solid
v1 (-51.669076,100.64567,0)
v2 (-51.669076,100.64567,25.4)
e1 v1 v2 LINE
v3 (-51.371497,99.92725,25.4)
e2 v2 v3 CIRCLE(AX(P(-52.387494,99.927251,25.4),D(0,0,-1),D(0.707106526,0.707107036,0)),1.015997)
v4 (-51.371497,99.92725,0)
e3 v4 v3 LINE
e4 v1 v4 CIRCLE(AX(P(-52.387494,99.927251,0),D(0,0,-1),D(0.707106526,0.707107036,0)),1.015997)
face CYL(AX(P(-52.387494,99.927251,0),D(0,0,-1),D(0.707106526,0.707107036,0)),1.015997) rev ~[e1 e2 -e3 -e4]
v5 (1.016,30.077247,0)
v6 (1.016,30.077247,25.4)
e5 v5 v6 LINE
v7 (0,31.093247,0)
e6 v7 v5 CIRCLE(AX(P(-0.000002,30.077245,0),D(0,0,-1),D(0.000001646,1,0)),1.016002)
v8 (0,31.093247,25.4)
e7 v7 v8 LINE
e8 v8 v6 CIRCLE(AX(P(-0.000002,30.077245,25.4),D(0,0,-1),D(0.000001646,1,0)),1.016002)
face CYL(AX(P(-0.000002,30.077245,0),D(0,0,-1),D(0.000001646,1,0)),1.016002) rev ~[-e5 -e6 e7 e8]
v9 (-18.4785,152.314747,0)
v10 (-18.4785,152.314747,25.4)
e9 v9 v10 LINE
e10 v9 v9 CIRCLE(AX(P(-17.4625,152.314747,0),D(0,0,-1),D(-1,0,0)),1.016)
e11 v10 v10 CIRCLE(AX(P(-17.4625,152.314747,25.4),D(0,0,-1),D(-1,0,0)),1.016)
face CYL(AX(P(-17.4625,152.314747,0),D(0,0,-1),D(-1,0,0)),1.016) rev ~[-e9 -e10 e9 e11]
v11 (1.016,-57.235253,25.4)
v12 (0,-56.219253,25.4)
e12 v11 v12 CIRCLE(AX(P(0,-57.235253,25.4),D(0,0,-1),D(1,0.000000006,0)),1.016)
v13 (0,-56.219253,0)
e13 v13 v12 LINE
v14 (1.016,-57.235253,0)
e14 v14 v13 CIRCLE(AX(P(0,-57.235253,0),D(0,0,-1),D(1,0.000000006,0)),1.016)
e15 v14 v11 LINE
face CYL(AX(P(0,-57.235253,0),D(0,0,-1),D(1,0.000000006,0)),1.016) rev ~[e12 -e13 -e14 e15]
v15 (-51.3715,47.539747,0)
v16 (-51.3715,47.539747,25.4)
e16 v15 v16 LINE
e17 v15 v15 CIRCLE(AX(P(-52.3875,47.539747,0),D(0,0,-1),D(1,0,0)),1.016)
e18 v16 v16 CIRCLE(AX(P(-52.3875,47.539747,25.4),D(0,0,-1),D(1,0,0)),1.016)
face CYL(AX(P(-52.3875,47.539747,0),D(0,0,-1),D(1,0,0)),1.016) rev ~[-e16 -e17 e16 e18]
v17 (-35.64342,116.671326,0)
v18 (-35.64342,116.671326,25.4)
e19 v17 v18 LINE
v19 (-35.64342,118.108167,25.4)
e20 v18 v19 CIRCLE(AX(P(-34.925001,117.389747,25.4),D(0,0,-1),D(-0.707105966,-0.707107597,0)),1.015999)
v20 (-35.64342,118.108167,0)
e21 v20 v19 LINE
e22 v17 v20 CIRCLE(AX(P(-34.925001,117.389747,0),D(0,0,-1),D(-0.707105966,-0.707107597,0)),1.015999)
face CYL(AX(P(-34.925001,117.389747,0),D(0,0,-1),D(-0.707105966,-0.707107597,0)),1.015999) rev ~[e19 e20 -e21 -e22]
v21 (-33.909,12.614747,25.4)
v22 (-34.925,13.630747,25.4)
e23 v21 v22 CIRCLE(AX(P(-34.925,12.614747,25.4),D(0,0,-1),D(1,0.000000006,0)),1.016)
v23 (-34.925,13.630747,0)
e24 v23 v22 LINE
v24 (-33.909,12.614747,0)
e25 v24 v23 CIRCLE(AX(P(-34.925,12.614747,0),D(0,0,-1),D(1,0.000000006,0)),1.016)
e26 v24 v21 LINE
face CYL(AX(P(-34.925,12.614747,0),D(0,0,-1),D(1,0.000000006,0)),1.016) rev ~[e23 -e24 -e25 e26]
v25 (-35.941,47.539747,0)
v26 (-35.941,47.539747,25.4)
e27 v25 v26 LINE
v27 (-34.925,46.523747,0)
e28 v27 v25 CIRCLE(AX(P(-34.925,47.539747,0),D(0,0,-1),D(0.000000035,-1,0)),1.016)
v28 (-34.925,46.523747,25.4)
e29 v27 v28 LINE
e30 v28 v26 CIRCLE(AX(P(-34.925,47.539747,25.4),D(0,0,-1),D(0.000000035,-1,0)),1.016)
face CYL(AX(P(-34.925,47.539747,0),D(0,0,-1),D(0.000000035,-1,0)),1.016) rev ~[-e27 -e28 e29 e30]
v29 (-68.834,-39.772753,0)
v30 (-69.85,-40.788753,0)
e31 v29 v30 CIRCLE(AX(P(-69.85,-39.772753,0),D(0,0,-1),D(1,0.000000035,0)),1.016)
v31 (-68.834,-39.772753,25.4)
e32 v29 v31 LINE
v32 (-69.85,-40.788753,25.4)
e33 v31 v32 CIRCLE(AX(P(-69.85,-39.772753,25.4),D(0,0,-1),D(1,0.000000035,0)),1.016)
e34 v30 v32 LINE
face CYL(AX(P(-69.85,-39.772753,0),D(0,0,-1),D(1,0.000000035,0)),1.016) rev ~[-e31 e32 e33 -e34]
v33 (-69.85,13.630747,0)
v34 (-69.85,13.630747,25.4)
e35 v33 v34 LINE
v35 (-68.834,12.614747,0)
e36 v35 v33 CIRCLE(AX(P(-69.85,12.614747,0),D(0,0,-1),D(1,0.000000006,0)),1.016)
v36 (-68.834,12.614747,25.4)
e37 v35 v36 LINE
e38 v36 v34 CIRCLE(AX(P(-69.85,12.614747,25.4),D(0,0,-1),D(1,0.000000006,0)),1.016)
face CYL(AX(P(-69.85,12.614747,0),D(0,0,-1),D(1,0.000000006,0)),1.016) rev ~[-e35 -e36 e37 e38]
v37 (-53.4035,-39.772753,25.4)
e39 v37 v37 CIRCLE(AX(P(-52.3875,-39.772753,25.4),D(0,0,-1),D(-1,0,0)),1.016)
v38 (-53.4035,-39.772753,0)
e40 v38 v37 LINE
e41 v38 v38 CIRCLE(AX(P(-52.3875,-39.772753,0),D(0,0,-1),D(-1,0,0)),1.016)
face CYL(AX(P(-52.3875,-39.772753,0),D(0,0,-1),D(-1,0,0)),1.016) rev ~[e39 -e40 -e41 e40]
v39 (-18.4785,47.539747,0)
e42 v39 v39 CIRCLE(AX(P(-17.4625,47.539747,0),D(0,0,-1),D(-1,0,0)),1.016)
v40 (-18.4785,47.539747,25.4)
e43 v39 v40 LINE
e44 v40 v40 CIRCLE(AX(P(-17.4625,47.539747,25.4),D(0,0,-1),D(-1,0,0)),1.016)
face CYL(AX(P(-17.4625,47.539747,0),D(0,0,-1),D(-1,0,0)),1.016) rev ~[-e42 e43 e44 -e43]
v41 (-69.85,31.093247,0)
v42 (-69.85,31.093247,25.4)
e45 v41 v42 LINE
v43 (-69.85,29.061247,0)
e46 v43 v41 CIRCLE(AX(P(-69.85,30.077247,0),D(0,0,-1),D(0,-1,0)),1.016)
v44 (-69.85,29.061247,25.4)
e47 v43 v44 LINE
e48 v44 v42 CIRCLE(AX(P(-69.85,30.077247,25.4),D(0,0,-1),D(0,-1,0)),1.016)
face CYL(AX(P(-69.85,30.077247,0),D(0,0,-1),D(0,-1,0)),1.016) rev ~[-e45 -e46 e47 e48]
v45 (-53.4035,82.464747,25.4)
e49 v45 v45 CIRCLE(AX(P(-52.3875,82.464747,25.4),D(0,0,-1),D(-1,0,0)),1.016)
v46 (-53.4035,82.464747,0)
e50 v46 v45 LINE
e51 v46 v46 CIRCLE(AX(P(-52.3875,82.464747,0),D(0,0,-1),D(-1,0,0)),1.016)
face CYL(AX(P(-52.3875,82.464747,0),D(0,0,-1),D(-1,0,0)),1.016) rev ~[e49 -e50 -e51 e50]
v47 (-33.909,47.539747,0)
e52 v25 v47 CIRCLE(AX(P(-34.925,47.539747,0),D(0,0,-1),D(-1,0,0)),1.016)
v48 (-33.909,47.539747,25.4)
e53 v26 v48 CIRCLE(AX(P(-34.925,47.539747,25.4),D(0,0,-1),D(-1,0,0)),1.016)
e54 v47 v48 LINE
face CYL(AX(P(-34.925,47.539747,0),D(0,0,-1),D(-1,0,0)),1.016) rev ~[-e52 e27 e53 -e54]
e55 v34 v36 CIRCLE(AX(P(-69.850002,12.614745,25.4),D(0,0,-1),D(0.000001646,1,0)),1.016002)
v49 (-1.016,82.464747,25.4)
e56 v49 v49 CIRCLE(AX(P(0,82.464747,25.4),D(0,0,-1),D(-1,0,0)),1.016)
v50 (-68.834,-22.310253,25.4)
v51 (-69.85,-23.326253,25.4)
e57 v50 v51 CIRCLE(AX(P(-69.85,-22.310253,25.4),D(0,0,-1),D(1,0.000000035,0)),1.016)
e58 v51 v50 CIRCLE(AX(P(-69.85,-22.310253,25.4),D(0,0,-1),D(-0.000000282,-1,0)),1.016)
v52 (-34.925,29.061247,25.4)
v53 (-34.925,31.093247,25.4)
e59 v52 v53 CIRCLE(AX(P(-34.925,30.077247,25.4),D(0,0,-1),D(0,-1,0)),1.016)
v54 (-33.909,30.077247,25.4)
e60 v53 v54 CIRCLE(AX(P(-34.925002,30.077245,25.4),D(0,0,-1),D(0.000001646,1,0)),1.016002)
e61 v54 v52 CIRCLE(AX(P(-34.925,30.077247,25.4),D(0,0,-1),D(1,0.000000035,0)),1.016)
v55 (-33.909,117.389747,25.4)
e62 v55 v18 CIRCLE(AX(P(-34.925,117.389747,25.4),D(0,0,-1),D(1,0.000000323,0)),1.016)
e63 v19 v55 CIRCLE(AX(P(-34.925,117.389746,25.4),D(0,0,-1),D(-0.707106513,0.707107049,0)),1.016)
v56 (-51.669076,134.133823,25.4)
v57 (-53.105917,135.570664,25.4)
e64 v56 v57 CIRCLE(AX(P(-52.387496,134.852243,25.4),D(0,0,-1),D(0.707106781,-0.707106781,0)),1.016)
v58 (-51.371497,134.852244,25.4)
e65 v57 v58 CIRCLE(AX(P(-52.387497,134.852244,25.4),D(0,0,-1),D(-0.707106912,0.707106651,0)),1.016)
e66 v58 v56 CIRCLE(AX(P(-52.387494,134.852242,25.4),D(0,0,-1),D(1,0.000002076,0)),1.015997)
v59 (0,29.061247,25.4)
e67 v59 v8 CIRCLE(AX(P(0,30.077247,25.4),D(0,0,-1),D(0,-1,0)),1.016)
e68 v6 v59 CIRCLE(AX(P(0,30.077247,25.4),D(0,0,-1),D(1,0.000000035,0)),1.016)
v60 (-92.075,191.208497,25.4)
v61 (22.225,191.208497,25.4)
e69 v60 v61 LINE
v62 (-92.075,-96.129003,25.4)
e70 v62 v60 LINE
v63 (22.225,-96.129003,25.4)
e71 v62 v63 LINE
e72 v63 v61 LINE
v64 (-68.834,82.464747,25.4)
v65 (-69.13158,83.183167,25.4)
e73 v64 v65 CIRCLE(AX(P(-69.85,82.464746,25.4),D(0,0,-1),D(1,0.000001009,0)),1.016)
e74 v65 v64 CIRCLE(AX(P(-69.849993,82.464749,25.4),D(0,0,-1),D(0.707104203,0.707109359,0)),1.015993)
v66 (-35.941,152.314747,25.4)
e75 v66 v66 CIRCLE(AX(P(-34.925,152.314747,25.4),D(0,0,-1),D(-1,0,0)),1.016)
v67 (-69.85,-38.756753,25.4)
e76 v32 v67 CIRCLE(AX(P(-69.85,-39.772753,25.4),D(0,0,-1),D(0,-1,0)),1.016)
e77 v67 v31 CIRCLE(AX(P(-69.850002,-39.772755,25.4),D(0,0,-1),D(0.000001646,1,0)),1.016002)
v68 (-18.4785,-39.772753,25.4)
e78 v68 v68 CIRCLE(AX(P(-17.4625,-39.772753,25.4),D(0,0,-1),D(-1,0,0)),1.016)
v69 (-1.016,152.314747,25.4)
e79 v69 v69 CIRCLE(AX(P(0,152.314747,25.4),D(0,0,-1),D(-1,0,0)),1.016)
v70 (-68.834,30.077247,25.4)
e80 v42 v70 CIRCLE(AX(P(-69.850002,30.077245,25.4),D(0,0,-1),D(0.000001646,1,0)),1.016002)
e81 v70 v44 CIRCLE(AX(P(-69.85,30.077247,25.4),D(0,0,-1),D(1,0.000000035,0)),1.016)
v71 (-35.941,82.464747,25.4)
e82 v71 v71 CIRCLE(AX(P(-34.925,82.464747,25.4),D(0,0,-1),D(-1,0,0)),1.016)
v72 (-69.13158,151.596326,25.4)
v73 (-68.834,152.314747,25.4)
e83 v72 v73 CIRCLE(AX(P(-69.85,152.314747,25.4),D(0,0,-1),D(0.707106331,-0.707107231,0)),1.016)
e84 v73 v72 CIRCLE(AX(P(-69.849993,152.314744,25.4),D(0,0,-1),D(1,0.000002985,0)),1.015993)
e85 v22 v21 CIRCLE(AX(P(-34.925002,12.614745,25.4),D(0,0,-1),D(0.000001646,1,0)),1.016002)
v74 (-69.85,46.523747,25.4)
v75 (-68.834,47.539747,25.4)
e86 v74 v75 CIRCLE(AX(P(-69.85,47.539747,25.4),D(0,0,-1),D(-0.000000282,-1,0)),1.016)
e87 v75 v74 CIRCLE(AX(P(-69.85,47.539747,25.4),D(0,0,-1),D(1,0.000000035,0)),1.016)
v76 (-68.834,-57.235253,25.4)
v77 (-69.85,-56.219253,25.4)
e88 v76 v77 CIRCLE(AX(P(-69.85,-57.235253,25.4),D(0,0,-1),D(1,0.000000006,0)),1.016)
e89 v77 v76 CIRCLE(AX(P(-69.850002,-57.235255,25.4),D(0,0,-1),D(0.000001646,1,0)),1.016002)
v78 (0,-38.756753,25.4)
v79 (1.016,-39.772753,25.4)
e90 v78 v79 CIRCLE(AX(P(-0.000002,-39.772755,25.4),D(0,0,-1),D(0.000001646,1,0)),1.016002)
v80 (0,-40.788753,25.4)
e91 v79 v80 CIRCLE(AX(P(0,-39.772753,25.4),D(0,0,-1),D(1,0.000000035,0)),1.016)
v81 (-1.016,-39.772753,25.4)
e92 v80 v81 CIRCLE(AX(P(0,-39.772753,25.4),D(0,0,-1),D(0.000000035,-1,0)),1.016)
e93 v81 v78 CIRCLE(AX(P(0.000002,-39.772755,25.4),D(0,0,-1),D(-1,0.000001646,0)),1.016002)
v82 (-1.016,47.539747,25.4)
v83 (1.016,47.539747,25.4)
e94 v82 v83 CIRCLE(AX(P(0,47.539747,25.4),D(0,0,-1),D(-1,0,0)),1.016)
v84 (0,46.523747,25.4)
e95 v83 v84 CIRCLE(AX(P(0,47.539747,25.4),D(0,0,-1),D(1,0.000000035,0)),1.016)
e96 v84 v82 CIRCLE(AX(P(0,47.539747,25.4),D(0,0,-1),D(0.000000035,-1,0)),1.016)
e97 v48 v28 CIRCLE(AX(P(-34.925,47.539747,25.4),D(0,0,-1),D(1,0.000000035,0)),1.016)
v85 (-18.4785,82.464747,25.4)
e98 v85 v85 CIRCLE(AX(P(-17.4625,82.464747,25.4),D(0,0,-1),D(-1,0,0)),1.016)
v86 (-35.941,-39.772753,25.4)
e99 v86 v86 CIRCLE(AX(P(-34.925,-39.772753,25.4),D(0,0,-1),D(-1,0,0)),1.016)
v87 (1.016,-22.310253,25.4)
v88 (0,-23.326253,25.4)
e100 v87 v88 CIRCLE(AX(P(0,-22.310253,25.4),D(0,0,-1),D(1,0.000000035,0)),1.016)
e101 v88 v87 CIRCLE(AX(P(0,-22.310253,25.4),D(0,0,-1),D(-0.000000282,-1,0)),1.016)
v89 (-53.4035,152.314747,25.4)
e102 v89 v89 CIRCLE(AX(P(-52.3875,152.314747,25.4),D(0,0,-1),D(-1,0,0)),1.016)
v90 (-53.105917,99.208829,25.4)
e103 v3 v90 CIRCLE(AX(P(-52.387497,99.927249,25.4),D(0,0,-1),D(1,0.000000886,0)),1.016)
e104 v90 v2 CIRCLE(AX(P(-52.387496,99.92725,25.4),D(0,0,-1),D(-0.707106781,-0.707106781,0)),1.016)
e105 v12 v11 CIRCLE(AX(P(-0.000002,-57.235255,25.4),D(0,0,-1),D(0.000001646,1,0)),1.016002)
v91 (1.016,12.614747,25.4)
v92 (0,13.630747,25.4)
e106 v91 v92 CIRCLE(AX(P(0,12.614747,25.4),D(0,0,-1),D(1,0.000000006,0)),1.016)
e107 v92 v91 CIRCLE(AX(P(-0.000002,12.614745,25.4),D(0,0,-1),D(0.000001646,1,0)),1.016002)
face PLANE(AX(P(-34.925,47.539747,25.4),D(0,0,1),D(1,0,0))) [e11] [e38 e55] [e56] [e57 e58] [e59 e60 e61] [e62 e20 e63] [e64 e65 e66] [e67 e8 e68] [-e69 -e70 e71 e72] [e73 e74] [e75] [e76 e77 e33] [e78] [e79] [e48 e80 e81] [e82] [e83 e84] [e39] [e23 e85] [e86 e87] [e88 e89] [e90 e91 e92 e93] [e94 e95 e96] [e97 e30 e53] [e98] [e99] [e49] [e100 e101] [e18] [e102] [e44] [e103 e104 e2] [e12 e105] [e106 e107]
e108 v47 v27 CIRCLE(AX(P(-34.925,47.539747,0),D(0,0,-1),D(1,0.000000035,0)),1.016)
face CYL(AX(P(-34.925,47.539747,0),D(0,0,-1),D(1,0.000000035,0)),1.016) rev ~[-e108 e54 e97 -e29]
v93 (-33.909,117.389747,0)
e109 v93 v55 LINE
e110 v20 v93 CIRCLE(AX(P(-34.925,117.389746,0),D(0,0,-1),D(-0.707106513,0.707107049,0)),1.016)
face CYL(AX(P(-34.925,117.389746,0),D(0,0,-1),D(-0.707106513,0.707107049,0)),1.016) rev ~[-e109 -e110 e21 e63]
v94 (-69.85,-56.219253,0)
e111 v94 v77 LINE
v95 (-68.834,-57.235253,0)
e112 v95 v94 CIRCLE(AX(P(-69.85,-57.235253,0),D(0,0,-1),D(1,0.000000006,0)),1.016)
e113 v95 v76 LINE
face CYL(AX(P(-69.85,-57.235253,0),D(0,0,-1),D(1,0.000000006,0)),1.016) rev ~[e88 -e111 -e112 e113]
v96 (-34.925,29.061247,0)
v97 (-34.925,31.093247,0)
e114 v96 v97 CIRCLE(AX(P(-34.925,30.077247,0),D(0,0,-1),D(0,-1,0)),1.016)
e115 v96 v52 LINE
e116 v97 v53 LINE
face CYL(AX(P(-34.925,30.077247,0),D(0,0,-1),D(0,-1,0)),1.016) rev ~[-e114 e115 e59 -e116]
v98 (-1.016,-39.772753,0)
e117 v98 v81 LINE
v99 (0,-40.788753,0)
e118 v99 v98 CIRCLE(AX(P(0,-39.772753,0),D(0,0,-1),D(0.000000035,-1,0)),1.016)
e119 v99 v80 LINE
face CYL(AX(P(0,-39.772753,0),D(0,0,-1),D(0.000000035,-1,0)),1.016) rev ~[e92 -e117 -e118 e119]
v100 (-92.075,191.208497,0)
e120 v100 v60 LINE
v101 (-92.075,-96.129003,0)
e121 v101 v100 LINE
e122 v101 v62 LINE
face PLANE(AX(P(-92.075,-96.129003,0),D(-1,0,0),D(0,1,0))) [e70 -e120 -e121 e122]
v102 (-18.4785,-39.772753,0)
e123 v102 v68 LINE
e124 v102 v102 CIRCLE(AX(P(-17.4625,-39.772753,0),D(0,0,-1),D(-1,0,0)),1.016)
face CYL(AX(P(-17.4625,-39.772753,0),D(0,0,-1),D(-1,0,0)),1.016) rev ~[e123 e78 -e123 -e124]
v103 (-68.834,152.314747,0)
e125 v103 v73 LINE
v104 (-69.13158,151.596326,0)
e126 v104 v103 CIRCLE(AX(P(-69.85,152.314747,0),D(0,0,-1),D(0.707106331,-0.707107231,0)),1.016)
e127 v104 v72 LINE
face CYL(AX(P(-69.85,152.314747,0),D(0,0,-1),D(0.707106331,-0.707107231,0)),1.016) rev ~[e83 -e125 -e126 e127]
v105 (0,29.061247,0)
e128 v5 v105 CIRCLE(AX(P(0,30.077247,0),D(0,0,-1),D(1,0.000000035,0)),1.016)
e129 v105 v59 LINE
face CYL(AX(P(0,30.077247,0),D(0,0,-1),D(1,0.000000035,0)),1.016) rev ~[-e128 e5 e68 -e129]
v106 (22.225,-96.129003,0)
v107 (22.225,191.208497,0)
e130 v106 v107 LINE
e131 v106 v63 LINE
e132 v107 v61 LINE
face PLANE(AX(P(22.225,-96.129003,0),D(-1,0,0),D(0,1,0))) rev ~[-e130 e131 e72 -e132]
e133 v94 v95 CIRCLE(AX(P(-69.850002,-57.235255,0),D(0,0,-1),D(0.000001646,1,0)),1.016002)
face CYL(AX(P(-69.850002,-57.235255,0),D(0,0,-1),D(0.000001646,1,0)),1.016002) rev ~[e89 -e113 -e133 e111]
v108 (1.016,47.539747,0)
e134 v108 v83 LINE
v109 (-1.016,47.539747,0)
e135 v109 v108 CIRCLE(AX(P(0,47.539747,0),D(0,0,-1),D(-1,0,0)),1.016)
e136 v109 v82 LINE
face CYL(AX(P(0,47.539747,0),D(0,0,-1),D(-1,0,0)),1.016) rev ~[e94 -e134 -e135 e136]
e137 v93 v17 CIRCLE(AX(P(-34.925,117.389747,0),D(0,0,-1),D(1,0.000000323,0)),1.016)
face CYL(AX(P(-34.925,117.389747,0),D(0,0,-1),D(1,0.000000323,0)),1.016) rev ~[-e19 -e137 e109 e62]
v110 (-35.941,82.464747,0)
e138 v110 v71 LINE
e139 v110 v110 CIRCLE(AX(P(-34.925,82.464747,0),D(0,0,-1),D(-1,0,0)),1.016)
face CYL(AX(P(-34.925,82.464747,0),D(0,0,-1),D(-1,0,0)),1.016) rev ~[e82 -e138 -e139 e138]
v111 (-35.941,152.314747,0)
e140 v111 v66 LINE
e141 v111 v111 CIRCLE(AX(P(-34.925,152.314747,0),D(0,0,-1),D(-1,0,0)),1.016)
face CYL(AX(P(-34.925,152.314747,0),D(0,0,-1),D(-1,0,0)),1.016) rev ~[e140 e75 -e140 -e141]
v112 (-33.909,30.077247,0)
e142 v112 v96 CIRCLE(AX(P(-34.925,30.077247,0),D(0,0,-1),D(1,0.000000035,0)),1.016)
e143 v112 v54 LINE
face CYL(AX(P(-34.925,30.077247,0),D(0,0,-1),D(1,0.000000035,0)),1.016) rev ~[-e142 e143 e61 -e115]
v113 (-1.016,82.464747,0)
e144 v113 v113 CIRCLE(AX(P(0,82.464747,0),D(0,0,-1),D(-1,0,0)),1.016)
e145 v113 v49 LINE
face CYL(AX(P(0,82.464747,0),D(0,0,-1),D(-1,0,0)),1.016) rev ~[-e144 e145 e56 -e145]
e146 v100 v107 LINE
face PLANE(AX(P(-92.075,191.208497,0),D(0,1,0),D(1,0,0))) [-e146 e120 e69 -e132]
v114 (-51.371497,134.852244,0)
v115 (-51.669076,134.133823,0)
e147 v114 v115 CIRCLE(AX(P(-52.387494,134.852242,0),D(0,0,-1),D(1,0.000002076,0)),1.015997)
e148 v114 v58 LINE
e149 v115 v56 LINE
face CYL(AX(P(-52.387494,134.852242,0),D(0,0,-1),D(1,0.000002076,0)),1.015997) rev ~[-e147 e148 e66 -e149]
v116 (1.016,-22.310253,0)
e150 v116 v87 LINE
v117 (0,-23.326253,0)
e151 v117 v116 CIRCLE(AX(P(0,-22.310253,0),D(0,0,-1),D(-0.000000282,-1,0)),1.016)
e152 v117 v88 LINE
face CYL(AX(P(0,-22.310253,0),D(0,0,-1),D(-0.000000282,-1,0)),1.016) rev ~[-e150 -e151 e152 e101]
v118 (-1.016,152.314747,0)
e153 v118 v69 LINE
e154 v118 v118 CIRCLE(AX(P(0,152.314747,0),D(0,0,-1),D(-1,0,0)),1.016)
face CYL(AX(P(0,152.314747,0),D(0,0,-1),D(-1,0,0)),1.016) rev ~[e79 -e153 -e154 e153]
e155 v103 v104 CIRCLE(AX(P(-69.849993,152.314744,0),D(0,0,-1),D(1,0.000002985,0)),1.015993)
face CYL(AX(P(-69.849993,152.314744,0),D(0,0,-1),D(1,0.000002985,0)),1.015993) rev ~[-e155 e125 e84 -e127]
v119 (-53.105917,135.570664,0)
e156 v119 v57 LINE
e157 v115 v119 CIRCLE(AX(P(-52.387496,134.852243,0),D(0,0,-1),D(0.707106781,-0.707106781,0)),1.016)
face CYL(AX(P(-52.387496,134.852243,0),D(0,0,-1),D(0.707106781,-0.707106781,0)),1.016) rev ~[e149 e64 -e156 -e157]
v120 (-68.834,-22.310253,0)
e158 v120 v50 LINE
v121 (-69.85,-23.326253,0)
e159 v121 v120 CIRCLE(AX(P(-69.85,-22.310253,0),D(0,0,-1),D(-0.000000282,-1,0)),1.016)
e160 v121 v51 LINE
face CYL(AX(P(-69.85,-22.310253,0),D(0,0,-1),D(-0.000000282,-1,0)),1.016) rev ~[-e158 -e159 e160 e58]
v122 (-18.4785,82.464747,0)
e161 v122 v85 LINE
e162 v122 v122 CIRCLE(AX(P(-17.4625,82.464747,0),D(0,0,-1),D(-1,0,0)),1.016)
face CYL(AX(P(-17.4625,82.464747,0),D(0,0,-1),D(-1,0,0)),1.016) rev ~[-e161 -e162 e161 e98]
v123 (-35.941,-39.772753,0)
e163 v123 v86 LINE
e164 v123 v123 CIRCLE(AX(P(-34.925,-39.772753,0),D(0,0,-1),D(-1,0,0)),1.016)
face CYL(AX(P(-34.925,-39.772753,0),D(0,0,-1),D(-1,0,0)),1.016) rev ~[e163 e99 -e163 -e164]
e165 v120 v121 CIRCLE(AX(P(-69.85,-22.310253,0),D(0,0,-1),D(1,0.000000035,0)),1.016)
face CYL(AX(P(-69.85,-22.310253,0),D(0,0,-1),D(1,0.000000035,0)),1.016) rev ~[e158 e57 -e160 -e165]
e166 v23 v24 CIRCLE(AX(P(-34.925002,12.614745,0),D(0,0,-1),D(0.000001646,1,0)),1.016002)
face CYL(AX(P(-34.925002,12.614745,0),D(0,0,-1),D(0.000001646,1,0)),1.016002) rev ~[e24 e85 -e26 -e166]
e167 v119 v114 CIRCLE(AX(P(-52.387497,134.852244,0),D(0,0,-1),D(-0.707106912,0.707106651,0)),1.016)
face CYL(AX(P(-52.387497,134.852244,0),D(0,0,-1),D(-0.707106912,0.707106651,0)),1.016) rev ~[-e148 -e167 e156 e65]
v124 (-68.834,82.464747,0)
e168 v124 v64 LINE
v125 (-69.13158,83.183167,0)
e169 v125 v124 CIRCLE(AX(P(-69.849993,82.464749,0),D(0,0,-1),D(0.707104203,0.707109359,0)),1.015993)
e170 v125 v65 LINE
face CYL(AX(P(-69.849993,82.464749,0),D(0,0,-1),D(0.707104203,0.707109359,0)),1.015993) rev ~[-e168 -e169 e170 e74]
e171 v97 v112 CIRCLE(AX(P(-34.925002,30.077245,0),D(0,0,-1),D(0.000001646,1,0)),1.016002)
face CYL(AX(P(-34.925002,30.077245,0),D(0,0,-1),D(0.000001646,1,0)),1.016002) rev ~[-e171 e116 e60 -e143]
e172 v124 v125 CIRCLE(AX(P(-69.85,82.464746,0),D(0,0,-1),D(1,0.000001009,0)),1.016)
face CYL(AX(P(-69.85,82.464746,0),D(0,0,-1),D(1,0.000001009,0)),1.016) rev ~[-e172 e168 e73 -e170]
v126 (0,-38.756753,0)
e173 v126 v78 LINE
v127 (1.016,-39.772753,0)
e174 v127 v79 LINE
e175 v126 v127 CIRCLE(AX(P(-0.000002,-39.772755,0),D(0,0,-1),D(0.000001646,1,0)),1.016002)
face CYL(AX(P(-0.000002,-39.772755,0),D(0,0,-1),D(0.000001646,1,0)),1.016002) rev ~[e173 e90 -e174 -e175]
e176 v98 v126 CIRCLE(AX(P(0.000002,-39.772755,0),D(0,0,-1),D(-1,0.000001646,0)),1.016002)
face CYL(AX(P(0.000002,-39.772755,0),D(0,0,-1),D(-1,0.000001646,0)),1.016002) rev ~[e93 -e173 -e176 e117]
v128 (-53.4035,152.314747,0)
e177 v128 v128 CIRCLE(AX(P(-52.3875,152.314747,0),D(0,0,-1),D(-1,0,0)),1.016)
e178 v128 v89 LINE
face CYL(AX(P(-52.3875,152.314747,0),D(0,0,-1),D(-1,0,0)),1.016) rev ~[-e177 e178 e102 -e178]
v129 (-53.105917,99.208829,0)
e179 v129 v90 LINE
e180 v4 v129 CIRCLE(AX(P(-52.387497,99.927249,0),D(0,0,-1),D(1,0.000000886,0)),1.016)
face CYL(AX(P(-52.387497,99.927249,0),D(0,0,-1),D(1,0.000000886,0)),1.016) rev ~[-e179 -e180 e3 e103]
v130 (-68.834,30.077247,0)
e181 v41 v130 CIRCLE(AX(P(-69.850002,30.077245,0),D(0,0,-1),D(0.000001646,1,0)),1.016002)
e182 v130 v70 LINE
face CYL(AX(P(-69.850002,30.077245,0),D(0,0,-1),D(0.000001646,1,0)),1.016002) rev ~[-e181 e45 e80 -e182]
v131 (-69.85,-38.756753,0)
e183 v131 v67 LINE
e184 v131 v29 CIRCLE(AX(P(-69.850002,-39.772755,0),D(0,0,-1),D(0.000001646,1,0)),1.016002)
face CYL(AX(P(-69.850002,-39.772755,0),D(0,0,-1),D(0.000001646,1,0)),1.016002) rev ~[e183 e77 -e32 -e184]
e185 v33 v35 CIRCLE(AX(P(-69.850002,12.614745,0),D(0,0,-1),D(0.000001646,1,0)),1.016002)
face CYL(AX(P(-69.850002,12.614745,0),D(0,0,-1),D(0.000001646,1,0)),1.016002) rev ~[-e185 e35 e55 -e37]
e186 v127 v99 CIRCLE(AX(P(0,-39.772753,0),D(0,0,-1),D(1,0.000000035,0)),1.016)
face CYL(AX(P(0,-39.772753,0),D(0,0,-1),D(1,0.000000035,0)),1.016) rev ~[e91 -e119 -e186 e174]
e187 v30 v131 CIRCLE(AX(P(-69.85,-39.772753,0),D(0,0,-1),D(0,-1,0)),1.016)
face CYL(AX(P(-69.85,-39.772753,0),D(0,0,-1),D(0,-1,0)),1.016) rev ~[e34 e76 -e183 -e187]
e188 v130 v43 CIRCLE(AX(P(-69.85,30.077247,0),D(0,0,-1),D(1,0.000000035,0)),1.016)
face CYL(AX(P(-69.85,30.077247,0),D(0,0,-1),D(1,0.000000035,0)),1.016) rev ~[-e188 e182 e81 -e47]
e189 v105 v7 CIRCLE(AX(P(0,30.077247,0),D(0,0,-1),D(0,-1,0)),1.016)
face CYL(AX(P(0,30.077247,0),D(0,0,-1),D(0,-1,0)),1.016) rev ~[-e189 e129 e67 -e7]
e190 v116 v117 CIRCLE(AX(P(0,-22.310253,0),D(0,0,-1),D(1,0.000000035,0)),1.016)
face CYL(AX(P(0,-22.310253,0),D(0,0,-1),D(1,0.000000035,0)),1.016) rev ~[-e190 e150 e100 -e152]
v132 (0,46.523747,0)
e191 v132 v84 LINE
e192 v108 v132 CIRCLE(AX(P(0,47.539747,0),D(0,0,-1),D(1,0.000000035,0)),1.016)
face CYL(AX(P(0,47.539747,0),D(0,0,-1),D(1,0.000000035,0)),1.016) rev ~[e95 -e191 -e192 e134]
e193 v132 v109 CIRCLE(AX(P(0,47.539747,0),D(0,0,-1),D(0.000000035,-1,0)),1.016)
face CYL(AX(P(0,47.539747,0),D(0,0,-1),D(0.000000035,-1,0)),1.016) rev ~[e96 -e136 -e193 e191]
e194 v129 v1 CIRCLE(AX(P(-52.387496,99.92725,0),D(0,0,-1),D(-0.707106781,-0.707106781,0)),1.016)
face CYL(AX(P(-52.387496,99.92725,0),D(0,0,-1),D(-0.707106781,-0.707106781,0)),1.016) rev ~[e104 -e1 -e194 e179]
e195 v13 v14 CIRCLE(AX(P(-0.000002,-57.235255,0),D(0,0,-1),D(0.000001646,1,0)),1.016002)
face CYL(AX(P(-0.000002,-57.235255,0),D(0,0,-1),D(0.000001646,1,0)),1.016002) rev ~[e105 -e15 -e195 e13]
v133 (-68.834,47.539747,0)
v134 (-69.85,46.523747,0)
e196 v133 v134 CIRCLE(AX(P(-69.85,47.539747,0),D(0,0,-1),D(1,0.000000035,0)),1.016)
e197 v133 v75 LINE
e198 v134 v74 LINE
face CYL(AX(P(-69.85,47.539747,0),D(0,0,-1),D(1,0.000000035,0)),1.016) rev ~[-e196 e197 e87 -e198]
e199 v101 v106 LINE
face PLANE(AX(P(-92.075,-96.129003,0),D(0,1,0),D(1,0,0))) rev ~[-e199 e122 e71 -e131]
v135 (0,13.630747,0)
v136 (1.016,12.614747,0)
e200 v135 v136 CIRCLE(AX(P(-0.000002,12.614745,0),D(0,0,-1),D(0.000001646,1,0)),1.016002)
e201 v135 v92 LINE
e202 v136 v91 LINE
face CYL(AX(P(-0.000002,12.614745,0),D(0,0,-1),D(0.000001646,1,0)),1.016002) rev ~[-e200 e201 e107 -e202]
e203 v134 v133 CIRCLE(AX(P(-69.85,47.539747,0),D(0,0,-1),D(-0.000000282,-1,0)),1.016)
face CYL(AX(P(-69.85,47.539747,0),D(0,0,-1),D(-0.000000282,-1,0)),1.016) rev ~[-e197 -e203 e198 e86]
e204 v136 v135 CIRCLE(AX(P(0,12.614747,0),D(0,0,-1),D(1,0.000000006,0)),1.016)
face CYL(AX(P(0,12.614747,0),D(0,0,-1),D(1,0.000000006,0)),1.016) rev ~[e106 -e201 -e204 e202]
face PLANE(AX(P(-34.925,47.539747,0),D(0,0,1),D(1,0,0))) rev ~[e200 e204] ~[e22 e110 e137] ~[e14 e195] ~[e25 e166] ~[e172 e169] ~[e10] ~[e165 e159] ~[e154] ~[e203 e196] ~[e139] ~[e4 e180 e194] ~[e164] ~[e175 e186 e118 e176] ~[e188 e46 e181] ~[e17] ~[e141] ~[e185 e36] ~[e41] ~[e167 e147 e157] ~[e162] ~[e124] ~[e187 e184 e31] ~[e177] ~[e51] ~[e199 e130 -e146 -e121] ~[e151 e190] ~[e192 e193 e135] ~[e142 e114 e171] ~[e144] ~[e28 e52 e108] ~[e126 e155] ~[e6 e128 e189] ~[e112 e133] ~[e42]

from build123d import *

# Parameters (mm, degrees)
F0_W     = 114.3
F0_H     = 287.3375
F1_DEPTH = 25.4


with BuildPart() as f1:
    # F0 (on Top) → F1 (new body)
    with BuildSketch(Plane.XY):
        with Locations((-34.925, 47.539747)):
            Rectangle(F0_W, F0_H)
        with BuildLine():
            ThreePointArc((-68.834, -57.235253), (-70.56842, -57.953674), (-69.85, -56.219253))
            ThreePointArc((-69.85, -56.219253), (-69.13158, -56.516833), (-68.834, -57.235253))
        make_face(mode=Mode.SUBTRACT)
        with BuildLine():
            ThreePointArc((-69.85, -38.756753), (-69.13158, -39.054333), (-68.834, -39.772753))
            ThreePointArc((-68.834, -39.772753), (-69.13158, -40.491174), (-69.85, -40.788753))
            ThreePointArc((-69.85, -40.788753), (-70.866, -39.772753), (-69.85, -38.756753))
        make_face(mode=Mode.SUBTRACT)
        with BuildLine():
            ThreePointArc((-51.3715, -39.772753), (-52.3875, -40.788753), (-53.4035, -39.772753))
            ThreePointArc((-53.4035, -39.772753), (-52.3875, -38.756753), (-51.3715, -39.772753))
        make_face(mode=Mode.SUBTRACT)
        with BuildLine():
            ThreePointArc((-68.834, -22.310253), (-69.13158, -23.028674), (-69.85, -23.326253))
            ThreePointArc((-69.85, -23.326253), (-70.56842, -21.591833), (-68.834, -22.310253))
        make_face(mode=Mode.SUBTRACT)
        with BuildLine():
            ThreePointArc((-68.834, 12.614747), (-70.56842, 11.896326), (-69.85, 13.630747))
            ThreePointArc((-69.85, 13.630747), (-69.13158, 13.333167), (-68.834, 12.614747))
        make_face(mode=Mode.SUBTRACT)
        with BuildLine():
            ThreePointArc((-69.85, 29.061247), (-70.866, 30.077247), (-69.85, 31.093247))
            ThreePointArc((-69.85, 31.093247), (-69.13158, 30.795667), (-68.834, 30.077247))
            ThreePointArc((-68.834, 30.077247), (-69.13158, 29.358826), (-69.85, 29.061247))
        make_face(mode=Mode.SUBTRACT)
        with BuildLine():
            ThreePointArc((-33.909, -39.772753), (-34.925, -40.788753), (-35.941, -39.772753))
            ThreePointArc((-35.941, -39.772753), (-34.925, -38.756753), (-33.909, -39.772753))
        make_face(mode=Mode.SUBTRACT)
        with BuildLine():
            ThreePointArc((-16.4465, -39.772753), (-17.4625, -40.788753), (-18.4785, -39.772753))
            ThreePointArc((-18.4785, -39.772753), (-17.4625, -38.756753), (-16.4465, -39.772753))
        make_face(mode=Mode.SUBTRACT)
        with BuildLine():
            ThreePointArc((1.016, -57.235253), (-0.71842, -57.953674), (0, -56.219253))
            ThreePointArc((0, -56.219253), (0.71842, -56.516833), (1.016, -57.235253))
        make_face(mode=Mode.SUBTRACT)
        with BuildLine():
            ThreePointArc((0, -40.788753), (-0.71842, -40.491174), (-1.016, -39.772753))
            ThreePointArc((-1.016, -39.772753), (-0.71842, -39.054333), (0, -38.756753))
            ThreePointArc((0, -38.756753), (0.71842, -39.054333), (1.016, -39.772753))
            ThreePointArc((1.016, -39.772753), (0.71842, -40.491174), (0, -40.788753))
        make_face(mode=Mode.SUBTRACT)
        with BuildLine():
            ThreePointArc((-33.909, 12.614747), (-35.64342, 11.896326), (-34.925, 13.630747))
            ThreePointArc((-34.925, 13.630747), (-34.20658, 13.333167), (-33.909, 12.614747))
        make_face(mode=Mode.SUBTRACT)
        with BuildLine():
            ThreePointArc((-34.925, 29.061247), (-35.941, 30.077247), (-34.925, 31.093247))
            ThreePointArc((-34.925, 31.093247), (-34.20658, 30.795667), (-33.909, 30.077247))
            ThreePointArc((-33.909, 30.077247), (-34.20658, 29.358826), (-34.925, 29.061247))
        make_face(mode=Mode.SUBTRACT)
        with BuildLine():
            ThreePointArc((1.016, -22.310253), (0.71842, -23.028674), (0, -23.326253))
            ThreePointArc((0, -23.326253), (-0.71842, -21.591833), (1.016, -22.310253))
        make_face(mode=Mode.SUBTRACT)
        with BuildLine():
            ThreePointArc((1.016, 12.614747), (-0.71842, 11.896326), (0, 13.630747))
            ThreePointArc((0, 13.630747), (0.71842, 13.333167), (1.016, 12.614747))
        make_face(mode=Mode.SUBTRACT)
        with BuildLine():
            ThreePointArc((0, 29.061247), (-1.016, 30.077247), (0, 31.093247))
            ThreePointArc((0, 31.093247), (0.71842, 30.795667), (1.016, 30.077247))
            ThreePointArc((1.016, 30.077247), (0.71842, 29.358826), (0, 29.061247))
        make_face(mode=Mode.SUBTRACT)
        with BuildLine():
            ThreePointArc((-69.85, 46.523747), (-70.56842, 48.258167), (-68.834, 47.539747))
            ThreePointArc((-68.834, 47.539747), (-69.13158, 46.821326), (-69.85, 46.523747))
        make_face(mode=Mode.SUBTRACT)
        with BuildLine():
            ThreePointArc((-68.834, 82.464747), (-70.788662, 82.07594), (-69.13158, 83.183167))
            ThreePointArc((-69.13158, 83.183167), (-68.911338, 82.853553), (-68.834, 82.464747))
        make_face(mode=Mode.SUBTRACT)
        with BuildLine():
            ThreePointArc((-53.4035, 47.539747), (-52.3875, 48.555747), (-51.3715, 47.539747))
            ThreePointArc((-51.3715, 47.539747), (-52.3875, 46.523747), (-53.4035, 47.539747))
        make_face(mode=Mode.SUBTRACT)
        with BuildLine():
            ThreePointArc((-51.3715, 82.464747), (-52.3875, 81.448747), (-53.4035, 82.464747))
            ThreePointArc((-53.4035, 82.464747), (-52.3875, 83.480747), (-51.3715, 82.464747))
        make_face(mode=Mode.SUBTRACT)
        with BuildLine():
            ThreePointArc((-53.105917, 99.208829), (-53.105917, 100.64567), (-51.669076, 100.64567))
            ThreePointArc((-51.669076, 100.64567), (-51.448835, 100.316056), (-51.371497, 99.92725))
            ThreePointArc((-51.371497, 99.92725), (-51.99869, 98.988588), (-53.105917, 99.208829))
        make_face(mode=Mode.SUBTRACT)
        with BuildLine():
            ThreePointArc((-69.13158, 151.596326), (-70.788662, 152.703553), (-68.834, 152.314747))
            ThreePointArc((-68.834, 152.314747), (-68.911338, 151.92594), (-69.13158, 151.596326))
        make_face(mode=Mode.SUBTRACT)
        with BuildLine():
            ThreePointArc((-51.669076, 134.133823), (-53.105917, 134.133823), (-53.105917, 135.570664))
            ThreePointArc((-53.105917, 135.570664), (-51.99869, 135.790905), (-51.371497, 134.852244))
            ThreePointArc((-51.371497, 134.852244), (-51.448835, 134.463437), (-51.669076, 134.133823))
        make_face(mode=Mode.SUBTRACT)
        with BuildLine():
            ThreePointArc((-51.3715, 152.314747), (-52.3875, 151.298747), (-53.4035, 152.314747))
            ThreePointArc((-53.4035, 152.314747), (-52.3875, 153.330747), (-51.3715, 152.314747))
        make_face(mode=Mode.SUBTRACT)
        with BuildLine():
            ThreePointArc((-35.941, 47.539747), (-34.925, 48.555747), (-33.909, 47.539747))
            ThreePointArc((-33.909, 47.539747), (-34.20658, 46.821326), (-34.925, 46.523747))
            ThreePointArc((-34.925, 46.523747), (-35.64342, 46.821326), (-35.941, 47.539747))
        make_face(mode=Mode.SUBTRACT)
        with BuildLine():
            ThreePointArc((-33.909, 82.464747), (-34.925, 81.448747), (-35.941, 82.464747))
            ThreePointArc((-35.941, 82.464747), (-34.925, 83.480747), (-33.909, 82.464747))
        make_face(mode=Mode.SUBTRACT)
        with BuildLine():
            ThreePointArc((-16.4465, 47.539747), (-17.4625, 46.523747), (-18.4785, 47.539747))
            ThreePointArc((-18.4785, 47.539747), (-17.4625, 48.555747), (-16.4465, 47.539747))
        make_face(mode=Mode.SUBTRACT)
        with BuildLine():
            ThreePointArc((-16.4465, 82.464747), (-17.4625, 81.448747), (-18.4785, 82.464747))
            ThreePointArc((-18.4785, 82.464747), (-17.4625, 83.480747), (-16.4465, 82.464747))
        make_face(mode=Mode.SUBTRACT)
        with BuildLine():
            ThreePointArc((-35.64342, 116.671326), (-35.941, 117.389747), (-35.64342, 118.108167))
            ThreePointArc((-35.64342, 118.108167), (-34.536194, 118.328408), (-33.909, 117.389747))
            ThreePointArc((-33.909, 117.389747), (-34.536194, 116.451085), (-35.64342, 116.671326))
        make_face(mode=Mode.SUBTRACT)
        with BuildLine():
            ThreePointArc((0, 46.523747), (-0.71842, 46.821326), (-1.016, 47.539747))
            ThreePointArc((-1.016, 47.539747), (0, 48.555747), (1.016, 47.539747))
            ThreePointArc((1.016, 47.539747), (0.71842, 46.821326), (0, 46.523747))
        make_face(mode=Mode.SUBTRACT)
        with BuildLine():
            ThreePointArc((1.016, 82.464747), (0, 81.448747), (-1.016, 82.464747))
            ThreePointArc((-1.016, 82.464747), (0, 83.480747), (1.016, 82.464747))
        make_face(mode=Mode.SUBTRACT)
        with BuildLine():
            ThreePointArc((-33.909, 152.314747), (-34.925, 151.298747), (-35.941, 152.314747))
            ThreePointArc((-35.941, 152.314747), (-34.925, 153.330747), (-33.909, 152.314747))
        make_face(mode=Mode.SUBTRACT)
        with BuildLine():
            ThreePointArc((-16.4465, 152.314747), (-17.4625, 151.298747), (-18.4785, 152.314747))
            ThreePointArc((-18.4785, 152.314747), (-17.4625, 153.330747), (-16.4465, 152.314747))
        make_face(mode=Mode.SUBTRACT)
        with BuildLine():
            ThreePointArc((1.016, 152.314747), (0, 151.298747), (-1.016, 152.314747))
            ThreePointArc((-1.016, 152.314747), (0, 153.330747), (1.016, 152.314747))
        make_face(mode=Mode.SUBTRACT)
    extrude(amount=F1_DEPTH)


solid = f1.part
